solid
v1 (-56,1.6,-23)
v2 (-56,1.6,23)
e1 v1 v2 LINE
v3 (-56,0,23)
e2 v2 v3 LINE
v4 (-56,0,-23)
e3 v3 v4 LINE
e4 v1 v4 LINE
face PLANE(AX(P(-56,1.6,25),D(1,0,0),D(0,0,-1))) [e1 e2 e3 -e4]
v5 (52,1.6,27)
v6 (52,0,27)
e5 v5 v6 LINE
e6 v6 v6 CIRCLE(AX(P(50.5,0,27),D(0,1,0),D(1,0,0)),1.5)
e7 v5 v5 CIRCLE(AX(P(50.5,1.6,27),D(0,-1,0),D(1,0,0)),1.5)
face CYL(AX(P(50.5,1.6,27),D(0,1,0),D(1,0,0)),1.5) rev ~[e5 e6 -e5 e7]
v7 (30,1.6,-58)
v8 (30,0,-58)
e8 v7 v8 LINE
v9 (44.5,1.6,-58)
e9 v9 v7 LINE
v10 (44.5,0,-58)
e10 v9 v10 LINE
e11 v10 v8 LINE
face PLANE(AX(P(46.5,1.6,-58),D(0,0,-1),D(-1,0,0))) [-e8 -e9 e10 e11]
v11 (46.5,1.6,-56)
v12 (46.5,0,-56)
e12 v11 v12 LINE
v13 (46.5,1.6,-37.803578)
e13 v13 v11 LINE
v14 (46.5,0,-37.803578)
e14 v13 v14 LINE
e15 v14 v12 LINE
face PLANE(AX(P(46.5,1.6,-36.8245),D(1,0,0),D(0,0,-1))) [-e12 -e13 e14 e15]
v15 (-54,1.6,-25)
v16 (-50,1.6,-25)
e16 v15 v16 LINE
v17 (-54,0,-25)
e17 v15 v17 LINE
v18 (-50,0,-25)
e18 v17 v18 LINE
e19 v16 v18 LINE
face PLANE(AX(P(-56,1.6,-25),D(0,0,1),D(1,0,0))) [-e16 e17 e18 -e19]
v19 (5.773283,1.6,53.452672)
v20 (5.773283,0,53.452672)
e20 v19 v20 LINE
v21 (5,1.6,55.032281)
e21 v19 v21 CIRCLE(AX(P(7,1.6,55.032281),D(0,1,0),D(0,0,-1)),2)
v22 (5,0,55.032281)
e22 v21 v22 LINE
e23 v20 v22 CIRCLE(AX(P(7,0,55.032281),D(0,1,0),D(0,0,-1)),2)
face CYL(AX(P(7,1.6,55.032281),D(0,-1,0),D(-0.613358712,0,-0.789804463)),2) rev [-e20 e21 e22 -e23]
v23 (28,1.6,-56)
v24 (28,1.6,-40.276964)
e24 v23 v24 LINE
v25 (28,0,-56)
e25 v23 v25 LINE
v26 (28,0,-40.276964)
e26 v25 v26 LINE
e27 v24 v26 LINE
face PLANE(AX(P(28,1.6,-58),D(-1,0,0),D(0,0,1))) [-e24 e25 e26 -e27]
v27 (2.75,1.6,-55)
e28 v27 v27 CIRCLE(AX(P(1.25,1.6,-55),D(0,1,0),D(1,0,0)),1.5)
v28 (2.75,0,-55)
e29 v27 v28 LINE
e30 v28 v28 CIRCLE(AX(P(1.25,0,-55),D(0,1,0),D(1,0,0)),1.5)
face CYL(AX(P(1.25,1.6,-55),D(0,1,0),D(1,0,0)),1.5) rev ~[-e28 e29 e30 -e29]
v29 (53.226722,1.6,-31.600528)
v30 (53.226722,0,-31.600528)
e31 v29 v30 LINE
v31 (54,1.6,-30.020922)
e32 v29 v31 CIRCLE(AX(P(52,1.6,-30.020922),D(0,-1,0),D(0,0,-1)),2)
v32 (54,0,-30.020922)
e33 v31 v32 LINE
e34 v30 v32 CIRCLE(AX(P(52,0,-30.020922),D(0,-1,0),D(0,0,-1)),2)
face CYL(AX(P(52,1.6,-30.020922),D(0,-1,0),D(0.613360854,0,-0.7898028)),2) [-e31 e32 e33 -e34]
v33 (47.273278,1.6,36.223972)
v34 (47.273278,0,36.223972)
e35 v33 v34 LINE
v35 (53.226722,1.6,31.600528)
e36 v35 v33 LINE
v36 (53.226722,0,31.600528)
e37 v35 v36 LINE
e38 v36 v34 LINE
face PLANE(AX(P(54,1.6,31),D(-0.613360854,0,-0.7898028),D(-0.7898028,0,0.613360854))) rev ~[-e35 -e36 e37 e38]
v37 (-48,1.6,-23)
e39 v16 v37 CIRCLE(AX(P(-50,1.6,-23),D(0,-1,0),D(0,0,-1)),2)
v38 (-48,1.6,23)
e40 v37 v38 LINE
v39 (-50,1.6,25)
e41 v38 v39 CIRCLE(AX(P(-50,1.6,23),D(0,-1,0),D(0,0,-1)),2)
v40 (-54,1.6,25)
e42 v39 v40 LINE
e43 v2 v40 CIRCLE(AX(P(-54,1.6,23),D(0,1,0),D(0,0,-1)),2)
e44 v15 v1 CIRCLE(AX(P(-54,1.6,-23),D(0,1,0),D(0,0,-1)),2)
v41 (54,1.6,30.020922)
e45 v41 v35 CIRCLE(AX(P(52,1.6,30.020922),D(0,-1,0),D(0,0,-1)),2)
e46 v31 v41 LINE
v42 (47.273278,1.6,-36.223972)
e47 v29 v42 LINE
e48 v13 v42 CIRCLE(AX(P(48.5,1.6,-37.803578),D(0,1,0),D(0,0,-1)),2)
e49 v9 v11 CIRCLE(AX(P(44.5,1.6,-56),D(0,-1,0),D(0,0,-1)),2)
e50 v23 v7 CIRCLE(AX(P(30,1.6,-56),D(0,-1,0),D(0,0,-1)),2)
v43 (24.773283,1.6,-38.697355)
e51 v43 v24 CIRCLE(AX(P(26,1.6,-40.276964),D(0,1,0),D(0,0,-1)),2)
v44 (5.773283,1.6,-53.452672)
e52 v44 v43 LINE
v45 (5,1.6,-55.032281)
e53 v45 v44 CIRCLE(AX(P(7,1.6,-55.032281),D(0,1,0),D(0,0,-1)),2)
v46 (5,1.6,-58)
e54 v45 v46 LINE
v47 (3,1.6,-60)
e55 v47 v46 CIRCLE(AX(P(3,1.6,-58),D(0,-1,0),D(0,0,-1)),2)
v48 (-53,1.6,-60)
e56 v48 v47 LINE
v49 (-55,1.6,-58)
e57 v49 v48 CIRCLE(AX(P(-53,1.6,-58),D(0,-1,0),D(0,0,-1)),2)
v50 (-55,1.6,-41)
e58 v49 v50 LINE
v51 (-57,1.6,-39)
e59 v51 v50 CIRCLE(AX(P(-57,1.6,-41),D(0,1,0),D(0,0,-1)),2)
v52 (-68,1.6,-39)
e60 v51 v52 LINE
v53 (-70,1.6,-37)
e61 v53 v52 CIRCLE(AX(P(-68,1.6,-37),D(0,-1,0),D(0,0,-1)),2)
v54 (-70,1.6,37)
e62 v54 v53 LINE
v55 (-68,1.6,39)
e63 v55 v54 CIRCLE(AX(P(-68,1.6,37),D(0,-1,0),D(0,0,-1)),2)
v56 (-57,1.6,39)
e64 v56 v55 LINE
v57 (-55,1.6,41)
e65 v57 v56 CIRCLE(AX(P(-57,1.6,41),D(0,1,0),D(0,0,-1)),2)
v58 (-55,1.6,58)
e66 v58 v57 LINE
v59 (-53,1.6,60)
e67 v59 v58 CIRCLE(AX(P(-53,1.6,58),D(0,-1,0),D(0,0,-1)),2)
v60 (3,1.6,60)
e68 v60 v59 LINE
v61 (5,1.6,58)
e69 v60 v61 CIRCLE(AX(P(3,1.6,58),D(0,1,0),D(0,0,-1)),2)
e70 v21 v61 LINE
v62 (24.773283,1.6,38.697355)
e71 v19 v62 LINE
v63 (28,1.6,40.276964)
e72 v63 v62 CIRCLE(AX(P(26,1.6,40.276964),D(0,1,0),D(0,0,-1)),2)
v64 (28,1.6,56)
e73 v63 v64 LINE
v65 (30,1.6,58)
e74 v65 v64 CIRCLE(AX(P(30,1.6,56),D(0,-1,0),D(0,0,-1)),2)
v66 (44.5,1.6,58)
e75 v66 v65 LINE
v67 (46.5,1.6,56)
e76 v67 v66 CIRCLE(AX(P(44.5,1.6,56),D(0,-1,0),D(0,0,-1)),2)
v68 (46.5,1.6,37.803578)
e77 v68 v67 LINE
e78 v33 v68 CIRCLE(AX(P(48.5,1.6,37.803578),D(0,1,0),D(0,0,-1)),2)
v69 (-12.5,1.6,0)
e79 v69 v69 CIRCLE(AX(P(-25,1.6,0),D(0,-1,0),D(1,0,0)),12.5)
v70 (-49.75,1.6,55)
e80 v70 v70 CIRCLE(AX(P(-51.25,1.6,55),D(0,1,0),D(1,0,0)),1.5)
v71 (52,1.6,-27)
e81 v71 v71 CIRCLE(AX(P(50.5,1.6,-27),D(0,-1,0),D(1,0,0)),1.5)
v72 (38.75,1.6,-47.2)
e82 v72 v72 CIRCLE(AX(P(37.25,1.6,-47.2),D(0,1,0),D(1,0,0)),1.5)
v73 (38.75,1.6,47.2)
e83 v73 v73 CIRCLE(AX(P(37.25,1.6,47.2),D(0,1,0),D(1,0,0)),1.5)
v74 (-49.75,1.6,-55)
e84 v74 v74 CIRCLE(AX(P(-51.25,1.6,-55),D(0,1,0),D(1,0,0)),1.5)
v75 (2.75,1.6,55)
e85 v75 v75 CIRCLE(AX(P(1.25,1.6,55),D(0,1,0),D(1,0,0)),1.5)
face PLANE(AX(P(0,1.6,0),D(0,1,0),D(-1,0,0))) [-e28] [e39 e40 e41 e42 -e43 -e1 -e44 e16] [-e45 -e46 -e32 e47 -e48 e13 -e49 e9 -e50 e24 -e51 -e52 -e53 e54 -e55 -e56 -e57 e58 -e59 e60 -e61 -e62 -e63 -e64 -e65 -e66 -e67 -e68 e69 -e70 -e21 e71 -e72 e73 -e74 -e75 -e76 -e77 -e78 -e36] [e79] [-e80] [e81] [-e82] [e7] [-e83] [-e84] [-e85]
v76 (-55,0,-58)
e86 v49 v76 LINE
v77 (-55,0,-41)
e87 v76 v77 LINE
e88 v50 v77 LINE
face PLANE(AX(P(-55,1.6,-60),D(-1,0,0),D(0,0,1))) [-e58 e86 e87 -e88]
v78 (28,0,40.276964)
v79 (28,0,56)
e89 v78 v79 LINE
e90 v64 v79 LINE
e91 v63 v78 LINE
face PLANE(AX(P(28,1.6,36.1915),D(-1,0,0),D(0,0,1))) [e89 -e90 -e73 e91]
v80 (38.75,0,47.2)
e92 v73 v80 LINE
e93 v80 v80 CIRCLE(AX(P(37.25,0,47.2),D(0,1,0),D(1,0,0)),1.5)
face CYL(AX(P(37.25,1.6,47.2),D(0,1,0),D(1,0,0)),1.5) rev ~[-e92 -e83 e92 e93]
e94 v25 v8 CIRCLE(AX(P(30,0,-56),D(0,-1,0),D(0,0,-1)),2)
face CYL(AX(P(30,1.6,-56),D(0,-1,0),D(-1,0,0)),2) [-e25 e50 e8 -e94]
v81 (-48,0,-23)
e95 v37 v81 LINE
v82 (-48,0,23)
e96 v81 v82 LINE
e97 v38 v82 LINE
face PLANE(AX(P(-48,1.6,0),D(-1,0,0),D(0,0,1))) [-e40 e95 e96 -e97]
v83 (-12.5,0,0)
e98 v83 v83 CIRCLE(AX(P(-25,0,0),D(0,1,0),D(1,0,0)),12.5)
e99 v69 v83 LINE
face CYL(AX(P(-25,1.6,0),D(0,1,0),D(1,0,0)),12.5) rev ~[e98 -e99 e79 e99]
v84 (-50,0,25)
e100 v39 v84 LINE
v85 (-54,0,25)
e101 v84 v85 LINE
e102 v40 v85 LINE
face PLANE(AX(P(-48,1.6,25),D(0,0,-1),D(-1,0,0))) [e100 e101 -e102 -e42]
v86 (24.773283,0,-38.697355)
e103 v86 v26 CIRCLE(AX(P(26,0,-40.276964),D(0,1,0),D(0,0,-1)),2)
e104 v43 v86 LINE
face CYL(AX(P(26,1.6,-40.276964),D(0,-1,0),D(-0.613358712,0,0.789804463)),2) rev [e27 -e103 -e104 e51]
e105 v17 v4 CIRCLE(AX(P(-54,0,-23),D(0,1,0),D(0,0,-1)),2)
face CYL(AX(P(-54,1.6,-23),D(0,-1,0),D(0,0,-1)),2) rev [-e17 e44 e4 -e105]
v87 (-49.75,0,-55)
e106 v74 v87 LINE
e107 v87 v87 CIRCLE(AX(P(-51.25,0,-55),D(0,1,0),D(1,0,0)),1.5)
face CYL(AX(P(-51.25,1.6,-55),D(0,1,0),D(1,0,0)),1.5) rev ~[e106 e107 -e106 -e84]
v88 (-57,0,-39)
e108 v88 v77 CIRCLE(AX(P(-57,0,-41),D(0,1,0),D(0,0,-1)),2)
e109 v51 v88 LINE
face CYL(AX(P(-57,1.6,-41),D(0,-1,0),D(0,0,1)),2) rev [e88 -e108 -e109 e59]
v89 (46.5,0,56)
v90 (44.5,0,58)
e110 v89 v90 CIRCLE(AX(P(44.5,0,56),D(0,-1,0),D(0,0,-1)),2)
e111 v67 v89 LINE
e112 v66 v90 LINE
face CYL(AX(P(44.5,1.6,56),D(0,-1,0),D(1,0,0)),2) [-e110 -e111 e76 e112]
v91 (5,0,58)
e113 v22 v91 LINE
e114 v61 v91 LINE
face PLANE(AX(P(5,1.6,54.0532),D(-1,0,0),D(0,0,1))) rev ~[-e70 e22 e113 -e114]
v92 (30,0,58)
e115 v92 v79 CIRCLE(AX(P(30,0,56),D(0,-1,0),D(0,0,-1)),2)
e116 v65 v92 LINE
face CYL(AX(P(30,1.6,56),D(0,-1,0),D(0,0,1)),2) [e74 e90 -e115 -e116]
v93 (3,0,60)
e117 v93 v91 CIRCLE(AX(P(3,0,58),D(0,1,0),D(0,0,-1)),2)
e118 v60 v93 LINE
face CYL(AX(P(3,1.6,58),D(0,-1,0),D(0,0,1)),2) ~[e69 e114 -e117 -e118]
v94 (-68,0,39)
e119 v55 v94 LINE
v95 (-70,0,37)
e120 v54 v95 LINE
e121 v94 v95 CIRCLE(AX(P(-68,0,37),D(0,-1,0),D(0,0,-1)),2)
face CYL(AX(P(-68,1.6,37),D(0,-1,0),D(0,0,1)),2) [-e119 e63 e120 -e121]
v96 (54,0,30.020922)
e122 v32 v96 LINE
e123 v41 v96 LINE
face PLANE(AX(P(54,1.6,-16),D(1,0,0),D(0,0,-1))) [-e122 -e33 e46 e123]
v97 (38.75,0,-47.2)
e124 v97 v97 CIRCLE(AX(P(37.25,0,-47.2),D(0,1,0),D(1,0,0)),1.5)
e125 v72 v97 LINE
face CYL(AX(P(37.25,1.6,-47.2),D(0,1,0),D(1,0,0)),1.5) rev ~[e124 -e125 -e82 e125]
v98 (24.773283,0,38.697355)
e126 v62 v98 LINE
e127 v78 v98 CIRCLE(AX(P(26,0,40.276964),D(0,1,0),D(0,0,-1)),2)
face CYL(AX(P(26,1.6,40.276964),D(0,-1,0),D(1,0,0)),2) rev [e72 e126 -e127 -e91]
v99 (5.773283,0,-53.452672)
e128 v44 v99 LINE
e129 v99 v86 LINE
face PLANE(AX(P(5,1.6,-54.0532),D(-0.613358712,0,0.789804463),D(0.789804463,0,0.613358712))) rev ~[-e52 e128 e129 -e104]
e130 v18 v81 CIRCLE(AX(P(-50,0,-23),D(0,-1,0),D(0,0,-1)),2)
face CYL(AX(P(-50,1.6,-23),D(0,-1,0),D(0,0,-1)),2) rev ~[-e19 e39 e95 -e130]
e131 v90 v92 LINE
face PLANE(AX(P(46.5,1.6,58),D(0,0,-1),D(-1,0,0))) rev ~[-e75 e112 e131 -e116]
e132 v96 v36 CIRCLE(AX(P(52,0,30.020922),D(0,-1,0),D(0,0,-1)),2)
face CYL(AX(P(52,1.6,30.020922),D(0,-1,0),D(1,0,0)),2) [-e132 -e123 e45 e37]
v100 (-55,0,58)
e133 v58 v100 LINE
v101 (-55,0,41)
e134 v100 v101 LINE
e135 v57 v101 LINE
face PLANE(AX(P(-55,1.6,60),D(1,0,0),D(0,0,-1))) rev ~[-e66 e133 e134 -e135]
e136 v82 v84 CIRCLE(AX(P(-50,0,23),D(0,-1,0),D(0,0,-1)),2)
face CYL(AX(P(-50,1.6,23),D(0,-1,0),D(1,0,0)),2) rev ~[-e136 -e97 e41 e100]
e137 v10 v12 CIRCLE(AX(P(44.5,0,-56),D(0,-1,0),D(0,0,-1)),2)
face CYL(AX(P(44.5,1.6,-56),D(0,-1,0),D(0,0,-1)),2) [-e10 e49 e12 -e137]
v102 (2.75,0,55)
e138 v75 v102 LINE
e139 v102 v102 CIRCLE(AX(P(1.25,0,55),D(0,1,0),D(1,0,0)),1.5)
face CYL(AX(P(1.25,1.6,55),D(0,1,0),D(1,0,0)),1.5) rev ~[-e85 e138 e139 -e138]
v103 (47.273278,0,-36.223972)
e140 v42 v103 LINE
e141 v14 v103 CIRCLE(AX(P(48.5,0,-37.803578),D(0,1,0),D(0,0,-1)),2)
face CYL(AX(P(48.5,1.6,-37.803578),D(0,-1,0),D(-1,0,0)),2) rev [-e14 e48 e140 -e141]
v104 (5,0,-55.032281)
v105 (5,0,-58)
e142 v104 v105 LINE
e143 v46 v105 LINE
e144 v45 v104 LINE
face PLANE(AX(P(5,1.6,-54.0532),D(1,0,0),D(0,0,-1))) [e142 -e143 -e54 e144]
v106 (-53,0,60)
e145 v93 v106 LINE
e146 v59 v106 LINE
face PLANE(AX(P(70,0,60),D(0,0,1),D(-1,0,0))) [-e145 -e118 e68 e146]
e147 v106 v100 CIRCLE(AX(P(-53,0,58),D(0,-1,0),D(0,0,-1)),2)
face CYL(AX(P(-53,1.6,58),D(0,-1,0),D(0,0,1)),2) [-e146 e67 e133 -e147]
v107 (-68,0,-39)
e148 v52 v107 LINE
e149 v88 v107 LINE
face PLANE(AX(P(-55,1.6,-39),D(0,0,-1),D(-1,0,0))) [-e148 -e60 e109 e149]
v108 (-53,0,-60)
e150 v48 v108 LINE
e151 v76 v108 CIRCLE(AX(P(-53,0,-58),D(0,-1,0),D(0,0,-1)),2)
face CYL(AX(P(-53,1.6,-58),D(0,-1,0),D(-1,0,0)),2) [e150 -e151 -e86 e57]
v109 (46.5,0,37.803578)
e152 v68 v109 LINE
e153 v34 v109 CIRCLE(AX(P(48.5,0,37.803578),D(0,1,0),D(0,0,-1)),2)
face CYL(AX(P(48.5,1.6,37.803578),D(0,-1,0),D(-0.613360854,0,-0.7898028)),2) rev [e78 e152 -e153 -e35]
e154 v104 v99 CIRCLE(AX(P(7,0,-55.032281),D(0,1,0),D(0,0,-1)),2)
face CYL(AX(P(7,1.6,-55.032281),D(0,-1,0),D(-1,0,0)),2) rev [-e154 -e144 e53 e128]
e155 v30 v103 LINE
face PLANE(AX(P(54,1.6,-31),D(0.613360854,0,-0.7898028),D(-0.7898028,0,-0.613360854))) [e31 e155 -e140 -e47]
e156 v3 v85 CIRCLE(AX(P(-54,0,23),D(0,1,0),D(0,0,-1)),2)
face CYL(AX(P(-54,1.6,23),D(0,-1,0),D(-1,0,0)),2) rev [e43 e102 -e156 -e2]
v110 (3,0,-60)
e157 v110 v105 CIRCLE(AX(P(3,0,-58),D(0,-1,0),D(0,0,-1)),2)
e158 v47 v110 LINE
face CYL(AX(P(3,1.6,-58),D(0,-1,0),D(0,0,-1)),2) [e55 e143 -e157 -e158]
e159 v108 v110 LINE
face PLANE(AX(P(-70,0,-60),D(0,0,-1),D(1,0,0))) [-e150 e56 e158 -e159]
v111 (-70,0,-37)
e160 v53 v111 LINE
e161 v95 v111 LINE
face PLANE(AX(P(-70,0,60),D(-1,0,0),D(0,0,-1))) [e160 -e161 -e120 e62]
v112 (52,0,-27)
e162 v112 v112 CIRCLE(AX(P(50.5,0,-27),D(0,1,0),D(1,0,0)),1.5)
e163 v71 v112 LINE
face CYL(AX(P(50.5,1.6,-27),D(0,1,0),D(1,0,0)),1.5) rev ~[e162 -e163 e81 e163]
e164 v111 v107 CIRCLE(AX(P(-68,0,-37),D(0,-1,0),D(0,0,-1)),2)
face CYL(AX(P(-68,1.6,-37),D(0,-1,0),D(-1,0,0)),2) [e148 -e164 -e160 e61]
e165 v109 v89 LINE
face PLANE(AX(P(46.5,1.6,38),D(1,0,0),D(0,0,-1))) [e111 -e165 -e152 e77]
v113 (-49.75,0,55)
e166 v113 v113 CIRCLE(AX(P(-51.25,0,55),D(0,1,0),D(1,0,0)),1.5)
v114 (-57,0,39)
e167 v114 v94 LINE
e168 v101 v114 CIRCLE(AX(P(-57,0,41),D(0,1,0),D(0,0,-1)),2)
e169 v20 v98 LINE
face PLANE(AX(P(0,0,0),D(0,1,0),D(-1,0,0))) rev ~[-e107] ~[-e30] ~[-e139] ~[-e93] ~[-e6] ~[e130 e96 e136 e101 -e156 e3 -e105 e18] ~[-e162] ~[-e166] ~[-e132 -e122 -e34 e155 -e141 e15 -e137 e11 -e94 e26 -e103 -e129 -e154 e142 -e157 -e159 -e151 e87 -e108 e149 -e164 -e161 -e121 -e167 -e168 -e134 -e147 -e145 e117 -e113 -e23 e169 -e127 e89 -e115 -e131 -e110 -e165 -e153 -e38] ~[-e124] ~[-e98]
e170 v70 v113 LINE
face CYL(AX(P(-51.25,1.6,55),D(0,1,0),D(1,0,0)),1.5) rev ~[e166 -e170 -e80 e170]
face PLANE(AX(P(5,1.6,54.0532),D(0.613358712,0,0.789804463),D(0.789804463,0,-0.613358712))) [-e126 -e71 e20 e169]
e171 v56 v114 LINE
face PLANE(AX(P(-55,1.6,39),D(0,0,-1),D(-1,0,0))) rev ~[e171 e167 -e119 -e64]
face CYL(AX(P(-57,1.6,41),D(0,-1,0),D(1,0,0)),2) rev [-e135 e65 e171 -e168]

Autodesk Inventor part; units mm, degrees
ref_plane "YZ Plane" through (0, 0, 0) normal (1, 0, 0) x (0, 1, 0)
ref_plane "XZ Plane" through (0, 0, 0) normal (0, 1, 0) x (-1, 0, 0)
ref_plane "XY Plane" through (0, 0, 0) normal (0, 0, 1) x (1, 0, 0)
sketch "Esboço1" plane through (0, 0, 0) normal (0, 1, 0) x (-1, 0, 0)
  line L0 (-70, 60) -> (70, 60)
  line L1 (70, 60) -> (70, -60)
  line L2 (70, -60) -> (-70, -60)
  line L3 (-70, -60) -> (-70, 60)
  line L4 (-70, 60) -> (70, -60) construction
  line L5 (70, 60) -> (-70, -60) construction
  point P0 (0, 0)
  dimension "d0" = 140
  dimension "d1" = 120
extrude "Extrusão1" add sketch "Esboço1" along normal blind 1.6
sketch "Esboço2" plane through (0, 1.6, 0) normal (0, 1, 0) x (1, 0, 0)
  line L0 (-94.6357, 0) -> (83.6022, 0)
  line L1 (-70, -37) -> (-52, -37)
  line L2 (-52, 37) -> (-70, 37)
  line L3 (-70, 37) -> (-70, -37)
  line L4 (-70, -37) -> (-52, 37) construction
  line L5 (-52, -37) -> (-70, 37) construction
  line L6 (-70, 60) -> (-70, -60) projected
  line L7 (-70, 0) -> (-70, 0)
  line L8 (-70, 0) -> (-25, 0)
  circle A0 centre (-25, 0) radius 12.5
  line L9 (-70, -60) -> (70, -60) projected
  line L10 (-20, -60) -> (-50, -60)
  line L11 (-20, -60) -> (10, -60)
  line L12 (70, 60) -> (-70, 60) projected
  line L13 (-55, -60) -> (5, -60)
  line L14 (5, -60) -> (5, -45)
  line L15 (-55, -45) -> (-55, -60)
  line L16 (-52, 0) -> (-70, 0)
  line L17 (-56, 25) -> (-48, 25)
  line L18 (-48, 25) -> (-48, -25)
  line L19 (-48, -25) -> (-56, -25)
  line L20 (-56, -25) -> (-56, 25)
  line L21 (-56, 25) -> (-48, -25) construction
  line L22 (-48, 25) -> (-56, -25) construction
  line L23 (-55, 60) -> (5, 60)
  line L24 (5, 60) -> (5, 45)
  line L25 (-55, 45) -> (-55, 60)
  line L26 (-25, 76.0053) -> (-25, -77.5323)
  line L27 (-35, -45) -> (-35, -37)
  line L28 (-35, -37) -> (-15, -37)
  line L29 (-15, -37) -> (-15, -45)
  line L30 (5, -45) -> (-15, -45)
  line L31 (-35, -45) -> (-55, -45)
  line L32 (-35, 45) -> (-35, 37)
  line L33 (-35, 37) -> (-15, 37)
  line L34 (-15, 37) -> (-15, 45)
  line L35 (5, 45) -> (-15, 45)
  line L36 (-35, 45) -> (-55, 45)
  line L37 (-55, -60) -> (5, -45) construction
  line L38 (5, -60) -> (-55, -45) construction
  line L39 (-35, 45) -> (-15, 37) construction
  line L40 (-15, 45) -> (-35, 37) construction
  point P0 (0, 0)
  point P1 (-61, 0)
  point P2 (-25, 41)
  dimension "d4" = 18
  dimension "d5" = 74
  dimension "d6" = 0
  dimension "d7" = 45
  dimension "d8" = 25
  dimension "d28" = 15
  dimension "d30" = 18
  dimension "d31" = 8
  dimension "d32" = 50
  dimension "d35" = 15
  dimension "d36" = 20
  dimension "d38" = 8
  dimension "d40" = 20
  dimension "d41" = 8
  dimension "d42" = 60
  dimension "d43" = 60
extrude "Extrusão4" cut sketch "Esboço2" against normal through all contours L26 A0 L0 | L26 A0 L0 | L0 A0 L26 | L0 A0 L26 | L18 L19 L20 L0 | L0 L20 L17 L18
sketch "Esboço3" plane through (0, 1.6, 0) normal (0, 1, 0) x (1, 0, 0)
  line L0 (44.5, -40) -> (30, -40) construction
  line L1 (30, -40) -> (30, -72.5) construction
  line L2 (30, -72.5) -> (44.5, -72.5) construction
  line L3 (44.5, -72.5) -> (44.5, -40) construction
  line L4 (30, 40) -> (44.5, 40) construction
  line L5 (44.5, 40) -> (44.5, 72.5) construction
  line L6 (44.5, 72.5) -> (30, 72.5) construction
  line L7 (30, 72.5) -> (30, 40) construction
  line L8 (37.25, -40) -> (37.25, -47.2) construction
  circle A0 centre (37.25, -47.2) radius 1.5
  line L9 (37.25, 40) -> (37.25, 47.2) construction
  circle A1 centre (37.25, 47.2) radius 1.5
  line L10 (-70, 60) -> (-70, -60) projected
  line L11 (52, 14) -> (49.5, 14) construction
  line L12 (49.5, 14) -> (49.5, -14) construction
  line L13 (49.5, -14) -> (52, -14) construction
  line L14 (52, -14) -> (52, 14) construction
  line L15 (52, 14) -> (49.5, -14) construction
  line L16 (49.5, 14) -> (52, -14) construction
  line L17 (54, 16) -> (47.5, 16)
  line L18 (47.5, 16) -> (47.5, -16) construction
  line L19 (47.5, -16) -> (54, -16) construction
  line L20 (54, -16) -> (54, 16)
  line L21 (70, -60) -> (70, 60) projected
  line L22 (5, -54.0532) -> (28, -36.1915)
  line L23 (28, -36.1915) -> (28, -58)
  line L24 (44.5, -69.5) -> (44.5446, -69.5)
  line L25 (46.5, -58) -> (46.5, -38)
  line L26 (46.5, -38) -> (46.5, -36.8245)
  line L27 (46.5, -58) -> (28, -58)
  line L28 (-70, -60) -> (70, -60) projected
  line L29 (7, -60) -> (5, -60)
  line L30 (70, 60) -> (-70, 60) projected
  line L31 (70, 60) -> (7, 60)
  line L32 (5, 54.0532) -> (28, 36.1915)
  line L33 (28, 58) -> (28, 36.1915)
  line L34 (44.5446, 69.5) -> (44.5, 69.5)
  line L35 (46.5, 58) -> (28, 58)
  line L36 (46.5, 36.8245) -> (46.5, 58)
  line L37 (5, 54.0532) -> (5, 60)
  line L38 (5, -54.0532) -> (5, -60)
  line L39 (54, -16) -> (54, -31)
  line L40 (54, -31) -> (46.5, -36.8245)
  line L41 (54, 16) -> (54, 31)
  line L42 (54, 31) -> (46.5, 36.8245)
  point P0 (0, 0)
  dimension "d59" = 14.5
  dimension "d60" = 32.5
  dimension "d63" = 32.5
  dimension "d64" = 14.5
  dimension "d76" = 7.2
  dimension "d77" = 3
  dimension "d78" = 7.2
  dimension "d79" = 3
  dimension "d97" = 2.5
  dimension "d98" = 28
  dimension "d99" = 2
  dimension "d103" = 2
  dimension "d104" = 2
  dimension "d105" = 63
  dimension "d107" = 2
  dimension "d132" = 15
  dimension "d133" = 15
sketch "Esboço4" plane through (0, 1.6, 0) normal (0, 1, 0) x (1, 0, 0)
  line L0 (-70, 60) -> (-70, -60) projected
  line L1 (-70, 0) -> (-70, -100)
  line L2 (-70, -100) -> (180, -100)
  line L3 (180, -100) -> (180, 100)
  line L4 (180, 100) -> (-70, 100)
  line L5 (-70, 100) -> (-70, -100)
  line L6 (250, 0) -> (-150, 0)
  line L7 (-430, 10) -> (570, 10)
  line L8 (570, 10) -> (570, -10)
  line L9 (570, -10) -> (-430, -10)
  line L10 (-430, -10) -> (-430, 10)
  line L11 (70, -60) -> (70, 60) projected
  line L12 (-430, 10) -> (570, -10) construction
  line L13 (570, 10) -> (-430, -10) construction
  line L14 (27.5, -90) -> (47.5, -90)
  line L15 (47.5, -90) -> (47.5, -50)
  line L16 (47.5, -50) -> (27.5, -50)
  line L17 (27.5, -50) -> (27.5, -90)
  line L18 (27.5, -90) -> (47.5, -50) construction
  line L19 (47.5, -90) -> (27.5, -50) construction
  line L20 (70, 60) -> (-70, 60) projected
  line L21 (47.5, 90) -> (27.5, 90)
  line L22 (27.5, 90) -> (27.5, 50)
  line L23 (27.5, 50) -> (47.5, 50)
  line L24 (47.5, 50) -> (47.5, 90)
  line L25 (47.5, 90) -> (27.5, 50) construction
  line L26 (27.5, 90) -> (47.5, 50) construction
  line L27 (0, -100) -> (0, 100) construction
  point P0 (0, 0)
  point P1 (70, 0)
  point P2 (37.5, -70)
  point P3 (37.5, 70)
  dimension "d53" = 100
  dimension "d54" = 250
  dimension "d55" = 200
  dimension "d65" = 1000
  dimension "d66" = 20
  dimension "d68" = 20
  dimension "d69" = 40
  dimension "d70" = 20
  dimension "d71" = 40
  dimension "d72" = 40
  dimension "d73" = 40
  dimension "d80" = 37.5
  dimension "d81" = 37.5
extrude "Extrusão5" cut sketch "Esboço3" against normal through all contours A0 | A1
sketch "Esboço5" plane through (0, 1.6, 0) normal (0, 1, 0) x (1, 0, 0)
  line L0 (70, 60) -> (-70, 60) projected
  line L1 (-70, 60) -> (-55, 60)
  line L2 (-55, 60) -> (-55, 39)
  line L3 (-55, 39) -> (-70, 39)
  line L4 (-70, 39) -> (-70, 60)
  line L5 (-70, -60) -> (70, -60) projected
  line L6 (-70, -60) -> (-55, -60)
  line L7 (-55, -60) -> (-55, -39)
  line L8 (-55, -39) -> (-70, -39)
  line L9 (-70, -39) -> (-70, -60)
  line L10 (-70, 60) -> (-70, -60) projected
  line L11 (-55, 39) -> (-70, 39)
  line L12 (-70, 39) -> (-70, 60)
  line L13 (-70, 60) -> (-55, 60)
  line L14 (-55, 60) -> (-55, 39)
  line L15 (-55, -39) -> (-70, -39)
  line L16 (-70, -39) -> (-70, -60)
  line L17 (-70, -60) -> (-55, -60)
  line L18 (-55, -60) -> (-55, -39)
  point P0 (0, 0)
  dimension "d84" = 15
  dimension "d85" = 21
  dimension "d86" = 15
  dimension "d87" = 21
extrude "Extrusão6" cut sketch "Esboço5" against normal through all
fillet "Arredondamento1" radius 2 10 edges at (-70, 0.8, 39) (-55, 0.8, 39) (-55, 0.8, 60) (-56, 0.8, 25) (-48, 0.8, 25) (-56, 0.8, -25) (-48, 0.8, -25) (-70, 0.8, -39) (-55, 0.8, -39) (-55, 0.8, -60)
sketch "Esboço7" plane through (0, 1.6, 0) normal (0, 1, 0) x (1, 0, 0)
  line L0 (-3.4695, -17.196) -> (-3.4695, -2.1961) construction
  line L1 (-3.4695, -2.1961) -> (11.6526, -2.1961) construction
  line L2 (11.6526, -2.1961) -> (11.6526, -17.196) construction
  line L3 (11.6526, -17.196) -> (-3.4695, -17.196) construction
  point P0 (0, 0)
extrude "Extrusão10" cut sketch "Esboço3" against normal through all contours L30 L21 L28 L38 L22 L23 L27 L25 L26 L40 L39 L20 L41 L42 L36 L35 L33 L32 L37
fillet "Arredondamento4" radius 2 14 edges at (5, 0.8, 60) (5, 0.8, 54.0532) (28, 0.8, 36.1915) (28, 0.8, 58) (46.5, 0.8, 58) (46.5, 0.8, 36.8245) (54, 0.8, 31) (54, 0.8, -31) (46.5, 0.8, -36.8245) (46.5, 0.8, -58) (28, 0.8, -58) (28, 0.8, -36.1915) (5, 0.8, -54.0532) (5, 0.8, -60)
sketch "Esboço8" plane through (0, 1.6, 0) normal (0, 1, 0) x (1, 0, 0)
  line L0 (-55, -60) -> (5, -60)
  line L1 (5, -60) -> (5, -50)
  line L2 (5, -50) -> (-55, -50)
  line L3 (-55, -50) -> (-55, -60)
  circle A0 centre (-51.25, -55) radius 1.5
  circle A1 centre (1.25, -55) radius 1.5
  line L4 (-70, 37) -> (-70, -37) projected
  line L5 (-70, 0) -> (54, 0)
  line L6 (54, 30.0209) -> (54, -30.0209) projected
  line L7 (-55, 60) -> (5, 60)
  line L8 (5, 60) -> (5, 50)
  line L9 (5, 50) -> (-55, 50)
  line L10 (-55, 50) -> (-55, 60)
  circle A2 centre (-51.25, 55) radius 1.5
  circle A3 centre (1.25, 55) radius 1.5
  point P0 (0, 0)
  point P1 (-55, -55)
  dimension "d137" = 60
  dimension "d138" = 10
  dimension "d140" = 3
  dimension "d142" = 3
  dimension "d143" = 3.75
  dimension "d144" = 3.75
  dimension "d145" = 5
  dimension "d146" = 5
  dimension "d147" = 60
  dimension "d148" = 10
  dimension "d149" = 3
  dimension "d150" = 3
  dimension "d151" = 3.75
  dimension "d152" = 5
  dimension "d153" = 5
  dimension "d154" = 3.75
extrude "Extrusão11" cut sketch "Esboço8" against normal through all contours A0 | A1 | A2 | A3
sketch "Esboço9" plane through (0, 1.6, 0) normal (0, 1, 0) x (1, 0, 0)
  line L0 (54, -38.06) -> (50.5, -38.06)
  line L1 (50.5, -38.06) -> (50.5, 41.775)
  line L2 (50.5, 41.775) -> (54, 41.775)
  line L3 (54, 41.775) -> (54, -38.06)
  line L4 (52.2999, -27) -> (48.7001, -27)
  line L5 (48.7001, -27) -> (48.7001, 27)
  line L6 (48.7001, 27) -> (52.2999, 27)
  line L7 (52.2999, 27) -> (52.2999, -27)
  line L8 (52.2999, -27) -> (48.7001, 27) construction
  line L9 (48.7001, -27) -> (52.2999, 27) construction
  circle A0 centre (50.5, -27) radius 1.5
  circle A1 centre (50.5, 27) radius 1.5
  point P0 (0, 0)
  point P1 (50.5, 0)
  dimension "d158" = 3.5
  dimension "d159" = 54
  dimension "d160" = 3
  dimension "d161" = 3
extrude "Extrusão12" cut sketch "Esboço9" against normal through all contours A0 L4 L1 | L1 L4 A0 | L4 A0 L1 | L1 A0 L4 | A1 L6 L1 | L1 L6 A1 | L6 A1 L1 | L1 A1 L6
properties part number "PCB"
